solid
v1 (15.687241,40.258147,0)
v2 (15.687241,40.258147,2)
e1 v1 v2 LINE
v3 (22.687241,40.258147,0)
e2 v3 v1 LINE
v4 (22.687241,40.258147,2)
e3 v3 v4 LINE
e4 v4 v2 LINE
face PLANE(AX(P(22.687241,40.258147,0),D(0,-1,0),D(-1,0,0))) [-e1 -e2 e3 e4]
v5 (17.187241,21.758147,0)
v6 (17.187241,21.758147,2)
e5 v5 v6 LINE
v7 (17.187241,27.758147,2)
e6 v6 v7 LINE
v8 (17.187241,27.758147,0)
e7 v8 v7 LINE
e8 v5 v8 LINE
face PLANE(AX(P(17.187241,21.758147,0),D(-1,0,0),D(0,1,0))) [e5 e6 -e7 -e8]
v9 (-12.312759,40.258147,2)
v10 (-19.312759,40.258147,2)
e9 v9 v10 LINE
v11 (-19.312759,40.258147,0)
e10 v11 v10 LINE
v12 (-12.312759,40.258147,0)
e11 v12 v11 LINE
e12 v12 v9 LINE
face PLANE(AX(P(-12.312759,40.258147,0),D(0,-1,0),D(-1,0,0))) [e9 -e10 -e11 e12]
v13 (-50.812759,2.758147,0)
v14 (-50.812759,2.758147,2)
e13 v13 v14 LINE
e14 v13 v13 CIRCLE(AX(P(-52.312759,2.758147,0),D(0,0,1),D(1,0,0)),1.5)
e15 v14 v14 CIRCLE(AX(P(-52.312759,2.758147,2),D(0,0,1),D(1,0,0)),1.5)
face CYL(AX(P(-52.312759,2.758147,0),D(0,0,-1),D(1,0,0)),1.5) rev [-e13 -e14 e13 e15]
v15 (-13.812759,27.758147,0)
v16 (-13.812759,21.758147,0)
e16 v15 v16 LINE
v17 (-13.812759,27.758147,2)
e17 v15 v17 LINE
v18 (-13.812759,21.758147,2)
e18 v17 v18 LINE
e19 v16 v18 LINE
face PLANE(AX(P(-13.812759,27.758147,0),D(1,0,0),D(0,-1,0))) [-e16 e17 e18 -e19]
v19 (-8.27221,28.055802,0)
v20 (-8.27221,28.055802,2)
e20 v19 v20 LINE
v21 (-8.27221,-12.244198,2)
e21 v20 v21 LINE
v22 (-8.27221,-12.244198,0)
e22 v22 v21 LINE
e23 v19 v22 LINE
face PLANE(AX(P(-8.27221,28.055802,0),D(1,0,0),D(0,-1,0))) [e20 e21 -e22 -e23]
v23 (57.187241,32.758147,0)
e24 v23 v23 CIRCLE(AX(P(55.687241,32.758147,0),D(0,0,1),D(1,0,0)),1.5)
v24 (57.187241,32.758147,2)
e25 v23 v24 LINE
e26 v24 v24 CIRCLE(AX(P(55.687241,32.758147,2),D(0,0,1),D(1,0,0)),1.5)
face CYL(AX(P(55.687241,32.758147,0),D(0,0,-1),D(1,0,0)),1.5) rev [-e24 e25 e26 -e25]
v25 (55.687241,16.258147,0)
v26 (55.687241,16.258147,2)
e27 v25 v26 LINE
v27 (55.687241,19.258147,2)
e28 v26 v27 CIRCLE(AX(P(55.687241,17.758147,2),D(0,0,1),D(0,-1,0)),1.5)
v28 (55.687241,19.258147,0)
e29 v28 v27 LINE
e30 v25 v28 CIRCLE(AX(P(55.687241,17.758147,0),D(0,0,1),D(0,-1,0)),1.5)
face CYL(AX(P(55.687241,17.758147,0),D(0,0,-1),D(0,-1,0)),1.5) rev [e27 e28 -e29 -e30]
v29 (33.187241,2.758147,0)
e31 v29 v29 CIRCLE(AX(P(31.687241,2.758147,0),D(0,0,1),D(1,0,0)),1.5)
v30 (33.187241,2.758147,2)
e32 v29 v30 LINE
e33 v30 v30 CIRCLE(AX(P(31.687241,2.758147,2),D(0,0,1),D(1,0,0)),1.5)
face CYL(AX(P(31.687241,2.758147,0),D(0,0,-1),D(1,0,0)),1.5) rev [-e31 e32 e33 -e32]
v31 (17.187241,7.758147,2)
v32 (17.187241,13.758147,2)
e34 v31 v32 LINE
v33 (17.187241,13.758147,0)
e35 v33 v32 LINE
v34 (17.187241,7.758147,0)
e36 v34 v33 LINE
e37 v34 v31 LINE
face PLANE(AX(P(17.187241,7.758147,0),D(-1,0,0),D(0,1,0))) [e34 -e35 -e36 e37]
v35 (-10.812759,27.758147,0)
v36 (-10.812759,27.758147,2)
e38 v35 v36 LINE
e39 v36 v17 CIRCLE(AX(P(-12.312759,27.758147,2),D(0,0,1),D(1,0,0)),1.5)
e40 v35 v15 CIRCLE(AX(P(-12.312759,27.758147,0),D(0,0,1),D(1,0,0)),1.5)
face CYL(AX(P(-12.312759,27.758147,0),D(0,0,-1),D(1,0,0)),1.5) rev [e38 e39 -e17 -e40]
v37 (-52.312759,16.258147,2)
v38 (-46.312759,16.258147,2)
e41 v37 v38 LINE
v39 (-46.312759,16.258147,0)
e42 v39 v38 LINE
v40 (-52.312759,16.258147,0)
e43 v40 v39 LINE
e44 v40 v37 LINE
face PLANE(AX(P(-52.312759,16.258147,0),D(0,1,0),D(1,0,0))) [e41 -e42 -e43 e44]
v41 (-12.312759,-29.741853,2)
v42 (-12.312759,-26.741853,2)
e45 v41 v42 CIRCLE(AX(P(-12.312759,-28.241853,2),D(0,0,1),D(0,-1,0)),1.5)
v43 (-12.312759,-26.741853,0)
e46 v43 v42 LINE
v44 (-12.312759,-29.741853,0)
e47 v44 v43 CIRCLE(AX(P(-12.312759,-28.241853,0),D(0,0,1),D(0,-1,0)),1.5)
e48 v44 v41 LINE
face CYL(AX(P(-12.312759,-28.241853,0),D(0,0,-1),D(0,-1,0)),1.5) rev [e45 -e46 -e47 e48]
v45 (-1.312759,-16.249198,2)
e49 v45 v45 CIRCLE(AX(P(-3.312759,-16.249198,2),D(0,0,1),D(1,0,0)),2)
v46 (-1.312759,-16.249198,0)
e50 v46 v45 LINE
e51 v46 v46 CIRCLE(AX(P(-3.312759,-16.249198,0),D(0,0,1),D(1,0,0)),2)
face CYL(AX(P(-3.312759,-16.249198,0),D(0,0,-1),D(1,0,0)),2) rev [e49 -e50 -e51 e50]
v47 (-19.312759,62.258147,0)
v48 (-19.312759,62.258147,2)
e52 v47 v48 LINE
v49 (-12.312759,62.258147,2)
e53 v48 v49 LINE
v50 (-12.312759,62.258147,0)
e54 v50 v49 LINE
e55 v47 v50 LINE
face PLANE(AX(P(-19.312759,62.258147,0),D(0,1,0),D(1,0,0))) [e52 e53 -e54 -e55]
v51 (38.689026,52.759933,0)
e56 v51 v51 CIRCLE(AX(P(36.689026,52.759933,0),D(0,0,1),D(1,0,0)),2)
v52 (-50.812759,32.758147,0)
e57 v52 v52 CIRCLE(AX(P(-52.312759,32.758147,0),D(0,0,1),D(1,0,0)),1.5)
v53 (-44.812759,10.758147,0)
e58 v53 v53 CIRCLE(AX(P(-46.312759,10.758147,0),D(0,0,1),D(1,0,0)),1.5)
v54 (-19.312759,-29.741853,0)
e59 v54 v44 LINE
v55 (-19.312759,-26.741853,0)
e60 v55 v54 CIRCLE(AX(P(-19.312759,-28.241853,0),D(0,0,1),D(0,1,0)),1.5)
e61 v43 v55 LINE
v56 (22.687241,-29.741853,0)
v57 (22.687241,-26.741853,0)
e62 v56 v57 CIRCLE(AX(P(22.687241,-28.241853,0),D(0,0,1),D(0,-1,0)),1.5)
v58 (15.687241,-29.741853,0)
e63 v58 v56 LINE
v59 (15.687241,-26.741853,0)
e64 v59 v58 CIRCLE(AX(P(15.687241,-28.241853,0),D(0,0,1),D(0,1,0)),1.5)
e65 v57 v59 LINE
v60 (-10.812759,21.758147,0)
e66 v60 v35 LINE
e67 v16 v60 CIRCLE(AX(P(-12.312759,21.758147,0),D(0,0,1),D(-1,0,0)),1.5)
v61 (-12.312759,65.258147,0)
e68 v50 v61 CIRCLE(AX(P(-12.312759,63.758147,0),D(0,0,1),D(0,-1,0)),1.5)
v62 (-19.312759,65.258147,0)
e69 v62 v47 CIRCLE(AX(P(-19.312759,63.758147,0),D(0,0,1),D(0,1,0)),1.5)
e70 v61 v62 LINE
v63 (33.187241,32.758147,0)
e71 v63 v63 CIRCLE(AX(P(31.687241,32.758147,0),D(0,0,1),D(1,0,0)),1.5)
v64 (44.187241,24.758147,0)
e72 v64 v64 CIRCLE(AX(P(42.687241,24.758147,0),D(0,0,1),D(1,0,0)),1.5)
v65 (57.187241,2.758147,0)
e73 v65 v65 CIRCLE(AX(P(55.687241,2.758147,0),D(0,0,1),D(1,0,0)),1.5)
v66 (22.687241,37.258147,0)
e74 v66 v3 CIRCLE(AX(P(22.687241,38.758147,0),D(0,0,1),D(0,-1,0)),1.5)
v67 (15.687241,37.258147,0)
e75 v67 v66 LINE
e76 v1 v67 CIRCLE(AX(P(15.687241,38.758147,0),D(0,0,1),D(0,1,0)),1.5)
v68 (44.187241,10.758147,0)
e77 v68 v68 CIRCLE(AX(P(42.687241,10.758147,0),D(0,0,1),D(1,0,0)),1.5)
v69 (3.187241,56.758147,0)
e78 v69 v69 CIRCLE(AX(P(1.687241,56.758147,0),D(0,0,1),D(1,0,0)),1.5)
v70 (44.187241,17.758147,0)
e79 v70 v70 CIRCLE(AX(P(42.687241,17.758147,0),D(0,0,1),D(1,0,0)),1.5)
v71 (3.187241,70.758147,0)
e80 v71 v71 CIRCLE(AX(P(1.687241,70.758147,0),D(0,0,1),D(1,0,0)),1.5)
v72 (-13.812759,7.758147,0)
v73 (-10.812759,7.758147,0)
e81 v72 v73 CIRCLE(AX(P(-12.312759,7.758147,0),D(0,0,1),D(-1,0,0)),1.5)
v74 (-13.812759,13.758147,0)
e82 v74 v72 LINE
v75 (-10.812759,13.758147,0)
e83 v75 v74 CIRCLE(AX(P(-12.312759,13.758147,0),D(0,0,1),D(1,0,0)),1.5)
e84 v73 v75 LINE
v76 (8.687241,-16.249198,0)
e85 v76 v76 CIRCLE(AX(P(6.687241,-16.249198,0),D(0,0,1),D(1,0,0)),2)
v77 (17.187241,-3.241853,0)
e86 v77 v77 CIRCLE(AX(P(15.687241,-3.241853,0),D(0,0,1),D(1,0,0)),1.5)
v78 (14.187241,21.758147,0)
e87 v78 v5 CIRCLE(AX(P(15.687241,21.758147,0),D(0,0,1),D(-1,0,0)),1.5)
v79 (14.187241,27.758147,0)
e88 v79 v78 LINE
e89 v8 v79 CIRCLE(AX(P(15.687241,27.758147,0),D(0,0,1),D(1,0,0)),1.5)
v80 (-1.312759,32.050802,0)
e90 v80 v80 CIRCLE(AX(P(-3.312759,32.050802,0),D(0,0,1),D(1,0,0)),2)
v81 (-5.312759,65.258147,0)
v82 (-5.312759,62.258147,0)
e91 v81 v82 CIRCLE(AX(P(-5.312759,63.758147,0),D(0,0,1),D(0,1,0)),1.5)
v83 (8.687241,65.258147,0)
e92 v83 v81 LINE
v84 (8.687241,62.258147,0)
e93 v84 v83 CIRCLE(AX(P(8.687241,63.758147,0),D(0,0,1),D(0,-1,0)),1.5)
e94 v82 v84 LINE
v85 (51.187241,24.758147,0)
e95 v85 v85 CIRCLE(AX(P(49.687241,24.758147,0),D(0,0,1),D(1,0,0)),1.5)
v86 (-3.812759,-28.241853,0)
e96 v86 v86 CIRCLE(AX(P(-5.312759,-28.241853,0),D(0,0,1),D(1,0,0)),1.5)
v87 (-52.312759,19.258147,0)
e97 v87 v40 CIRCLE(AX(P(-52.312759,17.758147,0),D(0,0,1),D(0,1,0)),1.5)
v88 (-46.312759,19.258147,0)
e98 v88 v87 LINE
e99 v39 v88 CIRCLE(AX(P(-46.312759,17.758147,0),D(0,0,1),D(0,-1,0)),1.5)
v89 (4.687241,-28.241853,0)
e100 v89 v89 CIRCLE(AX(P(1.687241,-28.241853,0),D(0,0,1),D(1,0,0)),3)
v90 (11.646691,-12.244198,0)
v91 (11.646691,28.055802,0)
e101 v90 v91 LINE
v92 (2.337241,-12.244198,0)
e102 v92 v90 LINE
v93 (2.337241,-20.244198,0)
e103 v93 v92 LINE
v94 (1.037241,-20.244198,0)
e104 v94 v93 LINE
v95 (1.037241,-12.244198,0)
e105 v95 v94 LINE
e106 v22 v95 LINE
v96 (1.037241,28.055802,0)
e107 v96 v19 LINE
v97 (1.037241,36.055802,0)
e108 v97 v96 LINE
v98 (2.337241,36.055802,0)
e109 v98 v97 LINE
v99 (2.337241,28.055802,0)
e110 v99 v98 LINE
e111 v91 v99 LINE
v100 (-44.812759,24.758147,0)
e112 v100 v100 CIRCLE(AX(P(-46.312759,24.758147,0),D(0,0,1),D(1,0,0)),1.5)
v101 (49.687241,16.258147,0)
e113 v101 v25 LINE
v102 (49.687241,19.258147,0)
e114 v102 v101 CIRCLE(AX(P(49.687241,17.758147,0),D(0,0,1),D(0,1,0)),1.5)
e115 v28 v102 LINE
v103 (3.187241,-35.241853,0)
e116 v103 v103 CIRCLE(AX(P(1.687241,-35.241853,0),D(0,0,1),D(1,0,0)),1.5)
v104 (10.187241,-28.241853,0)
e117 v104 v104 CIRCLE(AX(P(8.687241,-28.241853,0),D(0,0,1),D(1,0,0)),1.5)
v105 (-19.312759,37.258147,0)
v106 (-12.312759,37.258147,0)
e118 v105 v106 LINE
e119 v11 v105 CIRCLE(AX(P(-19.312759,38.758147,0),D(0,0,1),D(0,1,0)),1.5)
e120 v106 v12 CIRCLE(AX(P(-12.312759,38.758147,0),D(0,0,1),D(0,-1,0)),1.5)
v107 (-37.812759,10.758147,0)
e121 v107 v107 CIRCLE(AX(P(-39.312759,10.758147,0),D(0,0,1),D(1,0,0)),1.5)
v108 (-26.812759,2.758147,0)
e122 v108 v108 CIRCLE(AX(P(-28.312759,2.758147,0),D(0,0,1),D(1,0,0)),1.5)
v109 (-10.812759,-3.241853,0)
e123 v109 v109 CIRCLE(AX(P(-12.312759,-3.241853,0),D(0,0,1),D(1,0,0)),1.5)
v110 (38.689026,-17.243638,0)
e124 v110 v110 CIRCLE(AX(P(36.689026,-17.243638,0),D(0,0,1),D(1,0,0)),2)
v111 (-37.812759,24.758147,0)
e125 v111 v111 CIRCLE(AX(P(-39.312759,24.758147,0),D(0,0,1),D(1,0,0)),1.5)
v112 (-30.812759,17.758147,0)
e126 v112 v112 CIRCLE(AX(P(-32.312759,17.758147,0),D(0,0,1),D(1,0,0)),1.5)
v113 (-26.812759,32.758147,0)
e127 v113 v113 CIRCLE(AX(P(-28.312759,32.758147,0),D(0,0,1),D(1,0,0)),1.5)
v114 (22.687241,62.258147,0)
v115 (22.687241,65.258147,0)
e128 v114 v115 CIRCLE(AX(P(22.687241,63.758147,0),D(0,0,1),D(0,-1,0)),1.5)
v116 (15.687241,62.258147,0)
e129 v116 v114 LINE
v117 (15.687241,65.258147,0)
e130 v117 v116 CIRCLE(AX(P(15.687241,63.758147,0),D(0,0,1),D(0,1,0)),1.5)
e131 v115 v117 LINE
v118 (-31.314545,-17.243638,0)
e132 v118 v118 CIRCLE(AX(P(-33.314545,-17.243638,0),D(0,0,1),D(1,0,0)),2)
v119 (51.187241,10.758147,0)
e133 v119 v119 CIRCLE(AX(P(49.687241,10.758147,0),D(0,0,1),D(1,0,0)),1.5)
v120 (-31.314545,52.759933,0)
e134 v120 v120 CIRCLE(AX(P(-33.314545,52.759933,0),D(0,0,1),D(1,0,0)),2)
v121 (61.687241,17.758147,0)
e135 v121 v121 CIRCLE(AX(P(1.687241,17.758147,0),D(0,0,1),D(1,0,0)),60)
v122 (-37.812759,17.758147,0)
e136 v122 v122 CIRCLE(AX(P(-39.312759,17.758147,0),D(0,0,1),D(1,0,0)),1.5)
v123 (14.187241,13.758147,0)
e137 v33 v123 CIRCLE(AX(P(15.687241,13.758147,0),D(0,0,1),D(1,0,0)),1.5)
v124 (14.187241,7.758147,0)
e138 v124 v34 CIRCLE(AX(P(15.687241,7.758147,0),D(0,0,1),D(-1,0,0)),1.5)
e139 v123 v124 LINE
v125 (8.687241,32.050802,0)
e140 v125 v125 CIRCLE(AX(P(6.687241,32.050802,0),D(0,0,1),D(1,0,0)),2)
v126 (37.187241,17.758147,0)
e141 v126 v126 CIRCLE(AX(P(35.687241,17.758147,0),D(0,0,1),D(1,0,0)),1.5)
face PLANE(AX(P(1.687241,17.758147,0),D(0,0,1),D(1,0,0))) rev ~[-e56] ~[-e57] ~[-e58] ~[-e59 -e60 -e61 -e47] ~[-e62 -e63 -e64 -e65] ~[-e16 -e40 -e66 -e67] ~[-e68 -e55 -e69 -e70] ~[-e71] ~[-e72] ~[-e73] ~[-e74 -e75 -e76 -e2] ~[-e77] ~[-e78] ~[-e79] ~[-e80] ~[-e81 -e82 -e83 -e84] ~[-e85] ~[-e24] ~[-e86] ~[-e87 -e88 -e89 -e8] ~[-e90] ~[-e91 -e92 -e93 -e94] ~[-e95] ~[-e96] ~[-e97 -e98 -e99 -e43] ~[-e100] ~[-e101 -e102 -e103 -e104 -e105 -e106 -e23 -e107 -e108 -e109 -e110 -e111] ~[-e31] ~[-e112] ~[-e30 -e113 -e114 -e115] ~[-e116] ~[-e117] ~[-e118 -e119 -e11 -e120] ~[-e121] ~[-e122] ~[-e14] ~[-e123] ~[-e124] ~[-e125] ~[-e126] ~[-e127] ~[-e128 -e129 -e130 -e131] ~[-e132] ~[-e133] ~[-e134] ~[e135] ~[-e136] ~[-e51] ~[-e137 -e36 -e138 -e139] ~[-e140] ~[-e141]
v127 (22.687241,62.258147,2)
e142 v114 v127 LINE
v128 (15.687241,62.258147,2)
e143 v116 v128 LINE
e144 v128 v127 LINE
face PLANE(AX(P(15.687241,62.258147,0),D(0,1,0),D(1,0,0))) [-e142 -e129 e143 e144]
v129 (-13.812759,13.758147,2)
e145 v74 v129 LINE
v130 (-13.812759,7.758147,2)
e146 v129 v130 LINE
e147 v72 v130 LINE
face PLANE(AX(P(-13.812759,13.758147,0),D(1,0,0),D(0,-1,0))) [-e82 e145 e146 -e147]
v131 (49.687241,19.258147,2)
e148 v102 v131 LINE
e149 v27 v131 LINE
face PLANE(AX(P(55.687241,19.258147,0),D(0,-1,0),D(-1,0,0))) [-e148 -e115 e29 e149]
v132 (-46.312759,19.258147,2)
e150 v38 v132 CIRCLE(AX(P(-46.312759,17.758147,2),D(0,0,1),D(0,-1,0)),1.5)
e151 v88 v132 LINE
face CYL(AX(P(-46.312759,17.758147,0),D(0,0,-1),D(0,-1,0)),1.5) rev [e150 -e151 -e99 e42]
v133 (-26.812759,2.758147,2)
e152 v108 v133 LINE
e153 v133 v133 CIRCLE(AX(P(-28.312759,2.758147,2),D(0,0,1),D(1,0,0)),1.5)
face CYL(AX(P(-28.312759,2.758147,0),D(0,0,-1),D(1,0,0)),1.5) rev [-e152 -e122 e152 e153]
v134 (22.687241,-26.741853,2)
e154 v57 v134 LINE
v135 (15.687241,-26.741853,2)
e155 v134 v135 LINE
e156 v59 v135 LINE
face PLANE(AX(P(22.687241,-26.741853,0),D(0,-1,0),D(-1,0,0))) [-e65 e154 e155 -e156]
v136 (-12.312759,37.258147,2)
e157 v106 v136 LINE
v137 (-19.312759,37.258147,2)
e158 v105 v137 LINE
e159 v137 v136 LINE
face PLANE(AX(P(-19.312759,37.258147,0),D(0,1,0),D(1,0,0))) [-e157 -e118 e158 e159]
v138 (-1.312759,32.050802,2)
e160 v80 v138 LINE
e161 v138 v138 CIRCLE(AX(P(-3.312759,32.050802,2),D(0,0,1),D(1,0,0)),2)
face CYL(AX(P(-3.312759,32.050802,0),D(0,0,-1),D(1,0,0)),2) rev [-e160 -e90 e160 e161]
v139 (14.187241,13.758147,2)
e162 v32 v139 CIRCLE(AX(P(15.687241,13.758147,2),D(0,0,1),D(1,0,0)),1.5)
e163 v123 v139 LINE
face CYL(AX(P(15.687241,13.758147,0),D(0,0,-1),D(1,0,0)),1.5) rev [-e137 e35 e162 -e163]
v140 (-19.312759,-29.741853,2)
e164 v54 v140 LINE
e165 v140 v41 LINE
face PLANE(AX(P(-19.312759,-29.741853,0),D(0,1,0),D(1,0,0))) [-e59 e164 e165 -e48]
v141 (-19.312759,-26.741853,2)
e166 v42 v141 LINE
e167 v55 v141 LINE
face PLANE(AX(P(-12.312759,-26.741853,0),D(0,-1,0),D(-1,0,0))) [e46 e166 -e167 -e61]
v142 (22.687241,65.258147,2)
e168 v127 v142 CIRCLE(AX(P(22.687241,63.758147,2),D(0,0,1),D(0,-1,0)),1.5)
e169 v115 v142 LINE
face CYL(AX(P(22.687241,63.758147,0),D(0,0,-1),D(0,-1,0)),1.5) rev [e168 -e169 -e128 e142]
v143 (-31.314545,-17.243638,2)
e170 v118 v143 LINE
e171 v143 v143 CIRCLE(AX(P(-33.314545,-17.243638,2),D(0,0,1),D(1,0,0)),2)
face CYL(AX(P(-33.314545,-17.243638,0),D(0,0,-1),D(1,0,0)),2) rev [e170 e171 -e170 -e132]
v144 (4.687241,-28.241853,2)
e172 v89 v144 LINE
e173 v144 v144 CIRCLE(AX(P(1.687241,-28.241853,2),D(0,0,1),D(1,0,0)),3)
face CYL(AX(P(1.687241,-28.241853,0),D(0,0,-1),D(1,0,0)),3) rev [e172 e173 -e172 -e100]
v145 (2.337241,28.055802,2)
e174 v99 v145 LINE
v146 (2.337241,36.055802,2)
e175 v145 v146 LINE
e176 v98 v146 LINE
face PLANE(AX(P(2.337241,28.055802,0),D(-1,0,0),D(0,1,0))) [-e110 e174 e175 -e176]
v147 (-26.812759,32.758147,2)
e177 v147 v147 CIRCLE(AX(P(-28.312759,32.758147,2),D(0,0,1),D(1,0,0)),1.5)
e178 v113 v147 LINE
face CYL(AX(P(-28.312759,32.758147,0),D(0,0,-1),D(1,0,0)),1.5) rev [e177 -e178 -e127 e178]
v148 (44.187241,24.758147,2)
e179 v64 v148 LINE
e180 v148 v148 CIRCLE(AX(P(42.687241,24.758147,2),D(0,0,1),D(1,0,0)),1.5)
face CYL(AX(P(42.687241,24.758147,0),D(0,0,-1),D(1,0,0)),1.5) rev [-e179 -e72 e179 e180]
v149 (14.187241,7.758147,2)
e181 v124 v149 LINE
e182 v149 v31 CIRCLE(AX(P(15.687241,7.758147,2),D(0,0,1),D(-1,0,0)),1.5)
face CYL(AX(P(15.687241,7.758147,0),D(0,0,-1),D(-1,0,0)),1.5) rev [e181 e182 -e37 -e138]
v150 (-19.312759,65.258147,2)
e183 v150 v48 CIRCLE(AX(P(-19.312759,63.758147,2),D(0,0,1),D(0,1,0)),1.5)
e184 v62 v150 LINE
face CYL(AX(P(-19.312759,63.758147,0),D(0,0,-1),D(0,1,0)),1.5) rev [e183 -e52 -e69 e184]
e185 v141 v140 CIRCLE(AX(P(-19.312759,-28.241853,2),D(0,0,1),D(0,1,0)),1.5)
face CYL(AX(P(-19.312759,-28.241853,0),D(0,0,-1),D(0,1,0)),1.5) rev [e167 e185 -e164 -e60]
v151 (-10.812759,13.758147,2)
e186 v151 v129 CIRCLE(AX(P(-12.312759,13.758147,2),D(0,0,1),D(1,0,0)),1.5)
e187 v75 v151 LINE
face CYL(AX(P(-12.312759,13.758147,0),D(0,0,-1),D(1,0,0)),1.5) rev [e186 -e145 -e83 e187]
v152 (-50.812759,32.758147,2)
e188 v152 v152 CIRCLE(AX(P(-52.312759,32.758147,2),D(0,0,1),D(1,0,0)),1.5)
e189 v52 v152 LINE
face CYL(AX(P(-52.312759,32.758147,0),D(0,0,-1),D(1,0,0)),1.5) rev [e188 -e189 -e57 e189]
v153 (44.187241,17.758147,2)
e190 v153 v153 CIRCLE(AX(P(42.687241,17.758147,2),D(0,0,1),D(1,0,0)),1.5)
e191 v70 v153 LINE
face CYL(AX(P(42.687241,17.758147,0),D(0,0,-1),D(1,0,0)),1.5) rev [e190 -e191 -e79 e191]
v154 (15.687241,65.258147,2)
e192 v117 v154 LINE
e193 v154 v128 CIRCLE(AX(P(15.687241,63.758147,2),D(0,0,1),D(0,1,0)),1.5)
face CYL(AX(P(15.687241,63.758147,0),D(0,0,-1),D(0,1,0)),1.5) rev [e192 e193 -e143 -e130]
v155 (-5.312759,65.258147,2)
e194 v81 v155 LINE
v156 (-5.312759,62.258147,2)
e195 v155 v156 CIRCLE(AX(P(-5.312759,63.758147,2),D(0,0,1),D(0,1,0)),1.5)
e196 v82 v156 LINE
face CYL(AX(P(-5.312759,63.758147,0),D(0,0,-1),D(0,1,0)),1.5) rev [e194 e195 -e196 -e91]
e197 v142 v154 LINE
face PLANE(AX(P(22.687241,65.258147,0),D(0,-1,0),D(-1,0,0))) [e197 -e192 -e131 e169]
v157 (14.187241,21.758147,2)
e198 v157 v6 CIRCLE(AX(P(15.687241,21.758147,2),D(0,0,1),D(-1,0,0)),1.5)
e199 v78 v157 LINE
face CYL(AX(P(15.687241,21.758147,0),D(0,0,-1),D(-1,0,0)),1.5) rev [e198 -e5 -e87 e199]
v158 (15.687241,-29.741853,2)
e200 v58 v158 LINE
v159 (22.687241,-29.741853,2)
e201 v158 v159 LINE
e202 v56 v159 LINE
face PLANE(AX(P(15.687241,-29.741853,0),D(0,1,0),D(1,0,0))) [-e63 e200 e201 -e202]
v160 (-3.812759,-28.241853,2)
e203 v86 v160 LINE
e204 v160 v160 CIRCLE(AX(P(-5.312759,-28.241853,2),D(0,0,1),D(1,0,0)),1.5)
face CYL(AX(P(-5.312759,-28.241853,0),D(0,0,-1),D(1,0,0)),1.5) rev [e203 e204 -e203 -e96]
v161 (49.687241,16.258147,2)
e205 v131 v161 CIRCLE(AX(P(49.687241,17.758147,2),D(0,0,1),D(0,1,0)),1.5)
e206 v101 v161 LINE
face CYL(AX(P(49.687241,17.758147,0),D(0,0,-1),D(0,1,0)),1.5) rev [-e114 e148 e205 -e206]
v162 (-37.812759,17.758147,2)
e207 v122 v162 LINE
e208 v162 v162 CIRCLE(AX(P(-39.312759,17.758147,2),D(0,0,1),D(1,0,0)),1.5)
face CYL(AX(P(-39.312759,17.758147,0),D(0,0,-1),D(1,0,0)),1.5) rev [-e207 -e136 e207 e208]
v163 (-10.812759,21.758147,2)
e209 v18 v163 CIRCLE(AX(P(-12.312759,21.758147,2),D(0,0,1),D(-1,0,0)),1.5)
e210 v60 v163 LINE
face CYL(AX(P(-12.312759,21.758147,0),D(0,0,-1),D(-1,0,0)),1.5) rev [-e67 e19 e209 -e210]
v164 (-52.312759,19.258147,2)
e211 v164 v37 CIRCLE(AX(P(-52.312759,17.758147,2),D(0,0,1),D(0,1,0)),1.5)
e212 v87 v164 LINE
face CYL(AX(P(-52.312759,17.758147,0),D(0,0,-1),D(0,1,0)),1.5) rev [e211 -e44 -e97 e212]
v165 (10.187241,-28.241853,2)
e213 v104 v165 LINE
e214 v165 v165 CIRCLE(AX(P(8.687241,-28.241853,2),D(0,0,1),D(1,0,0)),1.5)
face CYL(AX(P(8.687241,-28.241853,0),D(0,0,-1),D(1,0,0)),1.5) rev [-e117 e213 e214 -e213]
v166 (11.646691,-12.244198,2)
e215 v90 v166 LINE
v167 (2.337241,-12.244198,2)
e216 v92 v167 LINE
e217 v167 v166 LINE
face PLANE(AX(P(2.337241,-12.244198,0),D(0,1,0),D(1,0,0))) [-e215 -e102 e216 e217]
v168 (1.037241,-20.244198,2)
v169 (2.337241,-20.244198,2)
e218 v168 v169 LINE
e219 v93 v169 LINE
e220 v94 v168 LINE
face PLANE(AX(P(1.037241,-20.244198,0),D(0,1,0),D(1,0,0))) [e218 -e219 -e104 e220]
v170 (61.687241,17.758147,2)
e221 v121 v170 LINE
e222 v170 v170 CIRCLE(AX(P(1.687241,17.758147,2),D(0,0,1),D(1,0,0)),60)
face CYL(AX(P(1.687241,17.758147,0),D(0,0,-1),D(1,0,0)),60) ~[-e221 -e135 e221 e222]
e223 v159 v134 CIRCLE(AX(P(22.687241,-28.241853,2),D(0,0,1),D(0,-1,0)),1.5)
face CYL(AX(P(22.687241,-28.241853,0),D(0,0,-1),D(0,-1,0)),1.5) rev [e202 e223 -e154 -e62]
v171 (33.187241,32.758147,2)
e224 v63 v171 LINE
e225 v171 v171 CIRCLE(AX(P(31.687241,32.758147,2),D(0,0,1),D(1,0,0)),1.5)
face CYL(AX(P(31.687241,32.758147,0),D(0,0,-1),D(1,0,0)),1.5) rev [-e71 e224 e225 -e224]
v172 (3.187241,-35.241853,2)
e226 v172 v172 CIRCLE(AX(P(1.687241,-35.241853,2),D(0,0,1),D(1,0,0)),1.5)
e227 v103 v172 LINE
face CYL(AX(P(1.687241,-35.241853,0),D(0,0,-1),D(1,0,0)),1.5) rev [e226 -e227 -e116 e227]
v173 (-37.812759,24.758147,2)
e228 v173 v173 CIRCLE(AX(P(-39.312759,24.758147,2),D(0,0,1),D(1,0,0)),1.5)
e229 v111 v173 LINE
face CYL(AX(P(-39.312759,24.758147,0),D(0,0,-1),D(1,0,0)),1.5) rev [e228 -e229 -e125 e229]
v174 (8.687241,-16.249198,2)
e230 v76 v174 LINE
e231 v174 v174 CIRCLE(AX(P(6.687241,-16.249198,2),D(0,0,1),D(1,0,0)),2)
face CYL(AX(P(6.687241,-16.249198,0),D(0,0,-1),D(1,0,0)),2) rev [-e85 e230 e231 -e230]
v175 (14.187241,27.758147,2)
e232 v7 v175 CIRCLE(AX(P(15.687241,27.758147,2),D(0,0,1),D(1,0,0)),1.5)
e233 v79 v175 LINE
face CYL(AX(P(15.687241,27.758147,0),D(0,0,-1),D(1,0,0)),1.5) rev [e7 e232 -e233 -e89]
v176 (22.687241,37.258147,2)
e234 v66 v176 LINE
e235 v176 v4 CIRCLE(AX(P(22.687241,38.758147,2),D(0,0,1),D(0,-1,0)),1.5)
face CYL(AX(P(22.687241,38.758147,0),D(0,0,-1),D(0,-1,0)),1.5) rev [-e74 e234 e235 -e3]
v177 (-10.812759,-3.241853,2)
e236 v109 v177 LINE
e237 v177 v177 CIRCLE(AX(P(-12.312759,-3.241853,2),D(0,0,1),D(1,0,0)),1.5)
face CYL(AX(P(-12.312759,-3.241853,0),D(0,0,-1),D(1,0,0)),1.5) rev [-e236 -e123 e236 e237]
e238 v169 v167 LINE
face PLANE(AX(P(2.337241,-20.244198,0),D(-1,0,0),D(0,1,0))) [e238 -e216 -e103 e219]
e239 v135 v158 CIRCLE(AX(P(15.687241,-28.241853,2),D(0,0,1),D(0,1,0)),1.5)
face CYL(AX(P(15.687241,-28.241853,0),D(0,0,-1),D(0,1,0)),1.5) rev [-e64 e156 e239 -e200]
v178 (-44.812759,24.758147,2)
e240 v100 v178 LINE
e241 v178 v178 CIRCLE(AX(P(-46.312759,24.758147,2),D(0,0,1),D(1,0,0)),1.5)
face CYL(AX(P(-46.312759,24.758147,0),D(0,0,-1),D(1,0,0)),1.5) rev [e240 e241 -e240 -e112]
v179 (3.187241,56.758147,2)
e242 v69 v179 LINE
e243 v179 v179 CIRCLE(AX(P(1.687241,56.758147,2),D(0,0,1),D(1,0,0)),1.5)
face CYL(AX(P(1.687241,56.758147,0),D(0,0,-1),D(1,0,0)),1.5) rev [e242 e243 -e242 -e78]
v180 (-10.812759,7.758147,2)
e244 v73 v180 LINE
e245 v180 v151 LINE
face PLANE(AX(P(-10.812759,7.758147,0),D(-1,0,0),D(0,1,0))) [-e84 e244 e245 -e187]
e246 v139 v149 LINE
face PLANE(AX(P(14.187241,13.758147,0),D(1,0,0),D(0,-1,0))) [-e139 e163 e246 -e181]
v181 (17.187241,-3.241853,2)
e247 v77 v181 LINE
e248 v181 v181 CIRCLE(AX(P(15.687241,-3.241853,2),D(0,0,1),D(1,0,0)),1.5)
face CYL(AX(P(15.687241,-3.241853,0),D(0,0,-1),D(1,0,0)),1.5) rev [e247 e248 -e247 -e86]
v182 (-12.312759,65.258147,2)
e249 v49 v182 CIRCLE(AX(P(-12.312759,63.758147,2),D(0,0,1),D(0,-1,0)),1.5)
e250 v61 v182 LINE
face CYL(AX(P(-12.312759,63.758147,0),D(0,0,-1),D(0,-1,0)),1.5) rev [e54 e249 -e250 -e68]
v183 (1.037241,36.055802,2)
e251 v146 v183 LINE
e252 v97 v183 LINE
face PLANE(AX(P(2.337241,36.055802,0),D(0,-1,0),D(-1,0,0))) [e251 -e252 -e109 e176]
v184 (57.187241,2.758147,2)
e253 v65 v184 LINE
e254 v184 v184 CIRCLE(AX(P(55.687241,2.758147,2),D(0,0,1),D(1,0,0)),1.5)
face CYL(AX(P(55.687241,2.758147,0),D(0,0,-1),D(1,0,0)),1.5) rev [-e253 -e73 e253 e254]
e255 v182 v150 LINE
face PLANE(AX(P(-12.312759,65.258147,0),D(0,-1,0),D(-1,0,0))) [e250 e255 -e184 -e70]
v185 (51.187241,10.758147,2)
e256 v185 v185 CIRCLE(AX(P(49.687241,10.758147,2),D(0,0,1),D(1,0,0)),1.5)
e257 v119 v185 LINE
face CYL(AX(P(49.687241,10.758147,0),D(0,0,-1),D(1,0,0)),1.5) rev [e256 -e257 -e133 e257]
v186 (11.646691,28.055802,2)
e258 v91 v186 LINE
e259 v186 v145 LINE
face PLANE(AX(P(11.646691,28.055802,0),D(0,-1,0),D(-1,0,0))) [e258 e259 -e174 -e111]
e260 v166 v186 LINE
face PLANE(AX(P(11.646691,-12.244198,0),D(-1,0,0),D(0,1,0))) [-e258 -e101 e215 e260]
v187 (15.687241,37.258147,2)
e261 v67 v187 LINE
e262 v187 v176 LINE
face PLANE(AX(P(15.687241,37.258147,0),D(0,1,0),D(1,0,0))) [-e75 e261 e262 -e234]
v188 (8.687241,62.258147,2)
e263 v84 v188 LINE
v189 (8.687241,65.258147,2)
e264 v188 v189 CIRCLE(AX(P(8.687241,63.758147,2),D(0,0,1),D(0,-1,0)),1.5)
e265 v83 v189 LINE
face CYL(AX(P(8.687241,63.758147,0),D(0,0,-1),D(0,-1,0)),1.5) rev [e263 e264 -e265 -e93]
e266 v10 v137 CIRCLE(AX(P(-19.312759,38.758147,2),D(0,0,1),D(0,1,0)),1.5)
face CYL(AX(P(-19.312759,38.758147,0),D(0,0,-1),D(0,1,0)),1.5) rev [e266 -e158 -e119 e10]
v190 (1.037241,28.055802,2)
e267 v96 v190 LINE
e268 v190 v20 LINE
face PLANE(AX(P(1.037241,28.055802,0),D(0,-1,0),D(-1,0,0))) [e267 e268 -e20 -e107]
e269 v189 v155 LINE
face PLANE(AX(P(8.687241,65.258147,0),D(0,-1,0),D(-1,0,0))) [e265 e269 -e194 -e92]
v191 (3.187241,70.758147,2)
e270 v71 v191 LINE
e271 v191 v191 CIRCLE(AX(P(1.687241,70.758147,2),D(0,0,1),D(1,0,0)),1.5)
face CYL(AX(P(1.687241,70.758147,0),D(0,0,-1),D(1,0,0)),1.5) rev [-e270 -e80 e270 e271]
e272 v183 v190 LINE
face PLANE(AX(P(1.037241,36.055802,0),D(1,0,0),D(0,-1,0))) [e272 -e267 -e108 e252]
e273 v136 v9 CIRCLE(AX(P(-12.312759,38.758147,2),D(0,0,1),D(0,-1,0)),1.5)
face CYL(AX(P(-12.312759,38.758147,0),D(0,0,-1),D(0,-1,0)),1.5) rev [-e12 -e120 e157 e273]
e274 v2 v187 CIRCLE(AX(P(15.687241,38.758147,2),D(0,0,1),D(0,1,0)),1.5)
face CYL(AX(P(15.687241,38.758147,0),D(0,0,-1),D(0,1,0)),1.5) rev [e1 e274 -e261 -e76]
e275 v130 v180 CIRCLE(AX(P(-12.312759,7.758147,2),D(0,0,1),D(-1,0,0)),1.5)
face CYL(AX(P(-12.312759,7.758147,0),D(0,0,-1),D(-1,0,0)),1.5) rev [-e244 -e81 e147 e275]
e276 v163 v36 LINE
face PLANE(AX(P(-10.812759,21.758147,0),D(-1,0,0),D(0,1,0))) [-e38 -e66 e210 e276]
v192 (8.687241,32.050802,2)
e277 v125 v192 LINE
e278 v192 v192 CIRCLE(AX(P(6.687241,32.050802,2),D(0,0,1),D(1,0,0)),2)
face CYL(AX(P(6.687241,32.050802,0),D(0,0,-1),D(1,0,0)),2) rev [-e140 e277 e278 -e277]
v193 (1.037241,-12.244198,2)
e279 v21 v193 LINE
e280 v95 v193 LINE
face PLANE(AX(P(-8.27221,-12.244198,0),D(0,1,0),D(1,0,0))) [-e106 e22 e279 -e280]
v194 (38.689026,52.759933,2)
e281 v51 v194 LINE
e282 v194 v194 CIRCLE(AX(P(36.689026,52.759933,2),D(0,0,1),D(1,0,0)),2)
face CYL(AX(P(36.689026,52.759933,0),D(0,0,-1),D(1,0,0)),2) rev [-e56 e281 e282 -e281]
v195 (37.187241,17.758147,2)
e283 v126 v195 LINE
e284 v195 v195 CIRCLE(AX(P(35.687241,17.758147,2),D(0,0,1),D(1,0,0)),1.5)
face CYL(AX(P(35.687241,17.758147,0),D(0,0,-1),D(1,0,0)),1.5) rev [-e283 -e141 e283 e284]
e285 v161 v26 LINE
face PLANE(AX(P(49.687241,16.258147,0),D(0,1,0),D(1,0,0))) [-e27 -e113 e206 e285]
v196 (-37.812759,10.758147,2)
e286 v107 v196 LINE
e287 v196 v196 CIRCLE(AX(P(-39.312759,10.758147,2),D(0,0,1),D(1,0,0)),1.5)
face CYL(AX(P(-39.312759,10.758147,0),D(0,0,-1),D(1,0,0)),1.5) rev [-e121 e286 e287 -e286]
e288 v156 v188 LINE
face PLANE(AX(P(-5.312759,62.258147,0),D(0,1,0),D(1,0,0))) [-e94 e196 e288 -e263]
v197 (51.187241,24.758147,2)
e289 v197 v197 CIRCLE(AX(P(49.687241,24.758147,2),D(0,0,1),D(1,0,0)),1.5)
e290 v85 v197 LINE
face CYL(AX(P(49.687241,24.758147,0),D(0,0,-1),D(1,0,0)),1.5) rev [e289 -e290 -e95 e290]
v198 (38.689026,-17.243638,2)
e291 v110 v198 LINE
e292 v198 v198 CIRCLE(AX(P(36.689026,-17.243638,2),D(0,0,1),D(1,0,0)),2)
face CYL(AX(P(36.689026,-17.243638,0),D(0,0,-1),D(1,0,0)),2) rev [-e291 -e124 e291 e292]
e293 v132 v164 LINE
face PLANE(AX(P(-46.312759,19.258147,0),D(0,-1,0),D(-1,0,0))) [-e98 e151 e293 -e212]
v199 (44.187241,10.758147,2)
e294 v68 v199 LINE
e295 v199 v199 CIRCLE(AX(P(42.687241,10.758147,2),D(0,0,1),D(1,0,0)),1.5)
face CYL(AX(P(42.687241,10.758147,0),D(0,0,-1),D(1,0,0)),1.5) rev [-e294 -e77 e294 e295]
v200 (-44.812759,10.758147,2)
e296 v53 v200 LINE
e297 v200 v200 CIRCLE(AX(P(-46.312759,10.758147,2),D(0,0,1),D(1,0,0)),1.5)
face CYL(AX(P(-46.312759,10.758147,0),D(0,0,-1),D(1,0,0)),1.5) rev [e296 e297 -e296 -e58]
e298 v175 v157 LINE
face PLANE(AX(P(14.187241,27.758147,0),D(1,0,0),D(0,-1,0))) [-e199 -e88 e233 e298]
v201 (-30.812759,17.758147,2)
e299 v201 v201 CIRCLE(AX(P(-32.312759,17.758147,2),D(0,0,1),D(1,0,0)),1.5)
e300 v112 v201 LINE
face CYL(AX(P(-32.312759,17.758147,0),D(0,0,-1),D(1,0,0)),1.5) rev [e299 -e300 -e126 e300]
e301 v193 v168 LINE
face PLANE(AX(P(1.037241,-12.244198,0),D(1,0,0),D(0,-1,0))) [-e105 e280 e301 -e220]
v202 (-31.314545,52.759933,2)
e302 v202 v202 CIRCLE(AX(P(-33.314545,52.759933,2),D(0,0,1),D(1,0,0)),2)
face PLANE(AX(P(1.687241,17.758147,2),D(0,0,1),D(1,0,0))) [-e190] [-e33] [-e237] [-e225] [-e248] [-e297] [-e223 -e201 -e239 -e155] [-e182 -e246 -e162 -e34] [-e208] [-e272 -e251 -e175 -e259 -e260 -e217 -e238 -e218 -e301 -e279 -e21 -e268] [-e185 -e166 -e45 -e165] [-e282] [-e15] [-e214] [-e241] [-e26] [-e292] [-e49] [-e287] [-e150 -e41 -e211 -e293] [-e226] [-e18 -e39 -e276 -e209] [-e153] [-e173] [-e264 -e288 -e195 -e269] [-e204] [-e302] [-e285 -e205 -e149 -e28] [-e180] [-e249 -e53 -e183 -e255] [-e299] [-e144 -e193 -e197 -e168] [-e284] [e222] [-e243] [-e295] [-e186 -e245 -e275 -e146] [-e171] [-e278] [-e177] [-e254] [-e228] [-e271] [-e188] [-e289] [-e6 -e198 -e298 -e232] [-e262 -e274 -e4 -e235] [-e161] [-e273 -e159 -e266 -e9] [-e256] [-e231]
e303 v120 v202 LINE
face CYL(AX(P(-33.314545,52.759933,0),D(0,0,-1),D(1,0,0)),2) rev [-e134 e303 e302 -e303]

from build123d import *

# Parameters (mm, degrees)
SKETCH_2_R      = 60
SKETCH_2_R_2    = 2
SKETCH_2_R_3    = 1.5
SKETCH_2_R_4    = 3
EXTRUDE_1_DEPTH = 2


with BuildPart() as part:
    # 草图2 → 凸台-拉伸1 (new body)
    with BuildSketch(Plane.XY):
        with Locations((1.687240704, 17.758147453)):
            Circle(SKETCH_2_R)
        with Locations((-3.312759296, 32.050802338)):
            Circle(SKETCH_2_R_2, mode=Mode.SUBTRACT)
        with Locations((6.687240704, -16.249197662)):
            Circle(SKETCH_2_R_2, mode=Mode.SUBTRACT)
        with Locations((-3.312759296, -16.249197662)):
            Circle(SKETCH_2_R_2, mode=Mode.SUBTRACT)
        with Locations((-28.312759296, 32.758147453)):
            Circle(SKETCH_2_R_3, mode=Mode.SUBTRACT)
        with Locations((-52.312759296, 32.758147453)):
            Circle(SKETCH_2_R_3, mode=Mode.SUBTRACT)
        with Locations((-28.312759296, 2.758147453)):
            Circle(SKETCH_2_R_3, mode=Mode.SUBTRACT)
        with Locations((-52.312759296, 2.758147453)):
            Circle(SKETCH_2_R_3, mode=Mode.SUBTRACT)
        with Locations((31.687240704, 32.758147453)):
            Circle(SKETCH_2_R_3, mode=Mode.SUBTRACT)
        with Locations((55.687240704, 32.758147453)):
            Circle(SKETCH_2_R_3, mode=Mode.SUBTRACT)
        with Locations((31.687240704, 2.758147453)):
            Circle(SKETCH_2_R_3, mode=Mode.SUBTRACT)
        with Locations((55.687240704, 2.758147453)):
            Circle(SKETCH_2_R_3, mode=Mode.SUBTRACT)
        with Locations((36.689026372, -17.243638216)):
            Circle(SKETCH_2_R_2, mode=Mode.SUBTRACT)
        with Locations((-33.314544965, -17.243638216)):
            Circle(SKETCH_2_R_2, mode=Mode.SUBTRACT)
        with Locations((-33.314544965, 52.759933122)):
            Circle(SKETCH_2_R_2, mode=Mode.SUBTRACT)
        with Locations((36.689026372, 52.759933122)):
            Circle(SKETCH_2_R_2, mode=Mode.SUBTRACT)
        with Locations((-12.312759296, -3.241852547)):
            Circle(SKETCH_2_R_3, mode=Mode.SUBTRACT)
        with Locations((15.687240704, -3.241852547)):
            Circle(SKETCH_2_R_3, mode=Mode.SUBTRACT)
        with Locations((42.687240704, 24.758147453)):
            Circle(SKETCH_2_R_3, mode=Mode.SUBTRACT)
        with Locations((42.687240704, 10.758147453)):
            Circle(SKETCH_2_R_3, mode=Mode.SUBTRACT)
        with Locations((35.687240704, 17.758147453)):
            Circle(SKETCH_2_R_3, mode=Mode.SUBTRACT)
        with Locations((-39.312759296, 24.758147453)):
            Circle(SKETCH_2_R_3, mode=Mode.SUBTRACT)
        with Locations((-39.312759296, 10.758147453)):
            Circle(SKETCH_2_R_3, mode=Mode.SUBTRACT)
        with Locations((-32.312759296, 17.758147453)):
            Circle(SKETCH_2_R_3, mode=Mode.SUBTRACT)
        with Locations((1.687240704, -35.241852547)):
            Circle(SKETCH_2_R_3, mode=Mode.SUBTRACT)
        with Locations((6.687240704, 32.050802338)):
            Circle(SKETCH_2_R_2, mode=Mode.SUBTRACT)
        with Locations((1.687240704, -28.241852547)):
            Circle(SKETCH_2_R_4, mode=Mode.SUBTRACT)
        with Locations((8.687240704, -28.241852547)):
            Circle(SKETCH_2_R_3, mode=Mode.SUBTRACT)
        with Locations((-5.312759296, -28.241852547)):
            Circle(SKETCH_2_R_3, mode=Mode.SUBTRACT)
        with Locations((49.687240704, 10.758147453)):
            Circle(SKETCH_2_R_3, mode=Mode.SUBTRACT)
        with Locations((42.687240704, 17.758147453)):
            Circle(SKETCH_2_R_3, mode=Mode.SUBTRACT)
        with Locations((49.687240704, 24.758147453)):
            Circle(SKETCH_2_R_3, mode=Mode.SUBTRACT)
        with Locations((-39.312759296, 17.758147453)):
            Circle(SKETCH_2_R_3, mode=Mode.SUBTRACT)
        with Locations((-46.312759296, 10.758147453)):
            Circle(SKETCH_2_R_3, mode=Mode.SUBTRACT)
        with Locations((-46.312759296, 24.758147453)):
            Circle(SKETCH_2_R_3, mode=Mode.SUBTRACT)
        with Locations((1.687240704, 70.758147453)):
            Circle(SKETCH_2_R_3, mode=Mode.SUBTRACT)
        with Locations((1.687240704, 56.758147453)):
            Circle(SKETCH_2_R_3, mode=Mode.SUBTRACT)
        Polygon((1.037240704, -12.244197662), (1.037240704, -20.244197662), (2.337240704, -20.244197662), (2.337240704, -12.244197662), (11.646691261, -12.244197662), (11.646691261, 28.055802338), (2.337240704, 28.055802338), (2.337240704, 36.055802338), (1.037240704, 36.055802338), (1.037240704, 28.055802338), (-8.272209854, 28.055802338), (-8.272209854, -12.244197662), align=None, mode=Mode.SUBTRACT)
        with BuildLine():
            Line((14.187240704, 13.758147453), (14.187240704, 7.758147453))
            ThreePointArc((14.187240704, 7.758147453), (15.687240704, 6.258147453), (17.187240704, 7.758147453))
            Line((17.187240704, 7.758147453), (17.187240704, 13.758147453))
            ThreePointArc((17.187240704, 13.758147453), (15.687240704, 15.258147453), (14.187240704, 13.758147453))
        make_face(mode=Mode.SUBTRACT)
        with BuildLine():
            Line((-10.812759296, 7.758147453), (-10.812759296, 13.758147453))
            ThreePointArc((-10.812759296, 13.758147453), (-12.312759296, 15.258147453), (-13.812759296, 13.758147453))
            Line((-13.812759296, 13.758147453), (-13.812759296, 7.758147453))
            ThreePointArc((-13.812759296, 7.758147453), (-12.312759296, 6.258147453), (-10.812759296, 7.758147453))
        make_face(mode=Mode.SUBTRACT)
        with BuildLine():
            Line((-10.812759296, 21.758147453), (-10.812759296, 27.758147453))
            ThreePointArc((-10.812759296, 27.758147453), (-12.312759296, 29.258147453), (-13.812759296, 27.758147453))
            Line((-13.812759296, 27.758147453), (-13.812759296, 21.758147453))
            ThreePointArc((-13.812759296, 21.758147453), (-12.312759296, 20.258147453), (-10.812759296, 21.758147453))
        make_face(mode=Mode.SUBTRACT)
        with BuildLine():
            Line((17.187240704, 21.758147453), (17.187240704, 27.758147453))
            ThreePointArc((17.187240704, 27.758147453), (15.687240704, 29.258147453), (14.187240704, 27.758147453))
            Line((14.187240704, 27.758147453), (14.187240704, 21.758147453))
            ThreePointArc((14.187240704, 21.758147453), (15.687240704, 20.258147453), (17.187240704, 21.758147453))
        make_face(mode=Mode.SUBTRACT)
        with BuildLine():
            Line((15.687240704, -29.741852547), (22.687240704, -29.741852547))
            ThreePointArc((22.687240704, -29.741852547), (24.187240704, -28.241852547), (22.687240704, -26.741852547))
            Line((22.687240704, -26.741852547), (15.687240704, -26.741852547))
            ThreePointArc((15.687240704, -26.741852547), (14.187240704, -28.241852547), (15.687240704, -29.741852547))
        make_face(mode=Mode.SUBTRACT)
        with BuildLine():
            Line((-19.312759296, -29.741852547), (-12.312759296, -29.741852547))
            ThreePointArc((-12.312759296, -29.741852547), (-10.812759296, -28.241852547), (-12.312759296, -26.741852547))
            Line((-12.312759296, -26.741852547), (-19.312759296, -26.741852547))
            ThreePointArc((-19.312759296, -26.741852547), (-20.812759296, -28.241852547), (-19.312759296, -29.741852547))
        make_face(mode=Mode.SUBTRACT)
        with BuildLine():
            Line((-19.312759296, 62.258147453), (-12.312759296, 62.258147453))
            ThreePointArc((-12.312759296, 62.258147453), (-10.812759296, 63.758147453), (-12.312759296, 65.258147453))
            Line((-12.312759296, 65.258147453), (-19.312759296, 65.258147453))
            ThreePointArc((-19.312759296, 65.258147453), (-20.812759296, 63.758147453), (-19.312759296, 62.258147453))
        make_face(mode=Mode.SUBTRACT)
        with BuildLine():
            Line((15.687240704, 62.258147453), (22.687240704, 62.258147453))
            ThreePointArc((22.687240704, 62.258147453), (24.187240704, 63.758147453), (22.687240704, 65.258147453))
            Line((22.687240704, 65.258147453), (15.687240704, 65.258147453))
            ThreePointArc((15.687240704, 65.258147453), (14.187240704, 63.758147453), (15.687240704, 62.258147453))
        make_face(mode=Mode.SUBTRACT)
        with BuildLine():
            Line((-19.312759296, 37.258147453), (-12.312759296, 37.258147453))
            ThreePointArc((-12.312759296, 37.258147453), (-10.812759296, 38.758147453), (-12.312759296, 40.258147453))
            Line((-12.312759296, 40.258147453), (-19.312759296, 40.258147453))
            ThreePointArc((-19.312759296, 40.258147453), (-20.812759296, 38.758147453), (-19.312759296, 37.258147453))
        make_face(mode=Mode.SUBTRACT)
        with BuildLine():
            Line((15.687240704, 37.258147453), (22.687240704, 37.258147453))
            ThreePointArc((22.687240704, 37.258147453), (24.187240704, 38.758147453), (22.687240704, 40.258147453))
            Line((22.687240704, 40.258147453), (15.687240704, 40.258147453))
            ThreePointArc((15.687240704, 40.258147453), (14.187240704, 38.758147453), (15.687240704, 37.258147453))
        make_face(mode=Mode.SUBTRACT)
        with BuildLine():
            Line((49.687240704, 16.258147453), (55.687240704, 16.258147453))
            ThreePointArc((55.687240704, 16.258147453), (57.187240704, 17.758147453), (55.687240704, 19.258147453))
            Line((55.687240704, 19.258147453), (49.687240704, 19.258147453))
            ThreePointArc((49.687240704, 19.258147453), (48.187240704, 17.758147453), (49.687240704, 16.258147453))
        make_face(mode=Mode.SUBTRACT)
        with BuildLine():
            Line((-52.312759296, 16.258147453), (-46.312759296, 16.258147453))
            ThreePointArc((-46.312759296, 16.258147453), (-44.812759296, 17.758147453), (-46.312759296, 19.258147453))
            Line((-46.312759296, 19.258147453), (-52.312759296, 19.258147453))
            ThreePointArc((-52.312759296, 19.258147453), (-53.812759296, 17.758147453), (-52.312759296, 16.258147453))
        make_face(mode=Mode.SUBTRACT)
        with BuildLine():
            Line((-5.312759296, 62.258147453), (8.687240704, 62.258147453))
            ThreePointArc((8.687240704, 62.258147453), (10.187240704, 63.758147453), (8.687240704, 65.258147453))
            Line((8.687240704, 65.258147453), (-5.312759296, 65.258147453))
            ThreePointArc((-5.312759296, 65.258147453), (-6.812759296, 63.758147453), (-5.312759296, 62.258147453))
        make_face(mode=Mode.SUBTRACT)
    extrude(amount=EXTRUDE_1_DEPTH)


solid = part.part
